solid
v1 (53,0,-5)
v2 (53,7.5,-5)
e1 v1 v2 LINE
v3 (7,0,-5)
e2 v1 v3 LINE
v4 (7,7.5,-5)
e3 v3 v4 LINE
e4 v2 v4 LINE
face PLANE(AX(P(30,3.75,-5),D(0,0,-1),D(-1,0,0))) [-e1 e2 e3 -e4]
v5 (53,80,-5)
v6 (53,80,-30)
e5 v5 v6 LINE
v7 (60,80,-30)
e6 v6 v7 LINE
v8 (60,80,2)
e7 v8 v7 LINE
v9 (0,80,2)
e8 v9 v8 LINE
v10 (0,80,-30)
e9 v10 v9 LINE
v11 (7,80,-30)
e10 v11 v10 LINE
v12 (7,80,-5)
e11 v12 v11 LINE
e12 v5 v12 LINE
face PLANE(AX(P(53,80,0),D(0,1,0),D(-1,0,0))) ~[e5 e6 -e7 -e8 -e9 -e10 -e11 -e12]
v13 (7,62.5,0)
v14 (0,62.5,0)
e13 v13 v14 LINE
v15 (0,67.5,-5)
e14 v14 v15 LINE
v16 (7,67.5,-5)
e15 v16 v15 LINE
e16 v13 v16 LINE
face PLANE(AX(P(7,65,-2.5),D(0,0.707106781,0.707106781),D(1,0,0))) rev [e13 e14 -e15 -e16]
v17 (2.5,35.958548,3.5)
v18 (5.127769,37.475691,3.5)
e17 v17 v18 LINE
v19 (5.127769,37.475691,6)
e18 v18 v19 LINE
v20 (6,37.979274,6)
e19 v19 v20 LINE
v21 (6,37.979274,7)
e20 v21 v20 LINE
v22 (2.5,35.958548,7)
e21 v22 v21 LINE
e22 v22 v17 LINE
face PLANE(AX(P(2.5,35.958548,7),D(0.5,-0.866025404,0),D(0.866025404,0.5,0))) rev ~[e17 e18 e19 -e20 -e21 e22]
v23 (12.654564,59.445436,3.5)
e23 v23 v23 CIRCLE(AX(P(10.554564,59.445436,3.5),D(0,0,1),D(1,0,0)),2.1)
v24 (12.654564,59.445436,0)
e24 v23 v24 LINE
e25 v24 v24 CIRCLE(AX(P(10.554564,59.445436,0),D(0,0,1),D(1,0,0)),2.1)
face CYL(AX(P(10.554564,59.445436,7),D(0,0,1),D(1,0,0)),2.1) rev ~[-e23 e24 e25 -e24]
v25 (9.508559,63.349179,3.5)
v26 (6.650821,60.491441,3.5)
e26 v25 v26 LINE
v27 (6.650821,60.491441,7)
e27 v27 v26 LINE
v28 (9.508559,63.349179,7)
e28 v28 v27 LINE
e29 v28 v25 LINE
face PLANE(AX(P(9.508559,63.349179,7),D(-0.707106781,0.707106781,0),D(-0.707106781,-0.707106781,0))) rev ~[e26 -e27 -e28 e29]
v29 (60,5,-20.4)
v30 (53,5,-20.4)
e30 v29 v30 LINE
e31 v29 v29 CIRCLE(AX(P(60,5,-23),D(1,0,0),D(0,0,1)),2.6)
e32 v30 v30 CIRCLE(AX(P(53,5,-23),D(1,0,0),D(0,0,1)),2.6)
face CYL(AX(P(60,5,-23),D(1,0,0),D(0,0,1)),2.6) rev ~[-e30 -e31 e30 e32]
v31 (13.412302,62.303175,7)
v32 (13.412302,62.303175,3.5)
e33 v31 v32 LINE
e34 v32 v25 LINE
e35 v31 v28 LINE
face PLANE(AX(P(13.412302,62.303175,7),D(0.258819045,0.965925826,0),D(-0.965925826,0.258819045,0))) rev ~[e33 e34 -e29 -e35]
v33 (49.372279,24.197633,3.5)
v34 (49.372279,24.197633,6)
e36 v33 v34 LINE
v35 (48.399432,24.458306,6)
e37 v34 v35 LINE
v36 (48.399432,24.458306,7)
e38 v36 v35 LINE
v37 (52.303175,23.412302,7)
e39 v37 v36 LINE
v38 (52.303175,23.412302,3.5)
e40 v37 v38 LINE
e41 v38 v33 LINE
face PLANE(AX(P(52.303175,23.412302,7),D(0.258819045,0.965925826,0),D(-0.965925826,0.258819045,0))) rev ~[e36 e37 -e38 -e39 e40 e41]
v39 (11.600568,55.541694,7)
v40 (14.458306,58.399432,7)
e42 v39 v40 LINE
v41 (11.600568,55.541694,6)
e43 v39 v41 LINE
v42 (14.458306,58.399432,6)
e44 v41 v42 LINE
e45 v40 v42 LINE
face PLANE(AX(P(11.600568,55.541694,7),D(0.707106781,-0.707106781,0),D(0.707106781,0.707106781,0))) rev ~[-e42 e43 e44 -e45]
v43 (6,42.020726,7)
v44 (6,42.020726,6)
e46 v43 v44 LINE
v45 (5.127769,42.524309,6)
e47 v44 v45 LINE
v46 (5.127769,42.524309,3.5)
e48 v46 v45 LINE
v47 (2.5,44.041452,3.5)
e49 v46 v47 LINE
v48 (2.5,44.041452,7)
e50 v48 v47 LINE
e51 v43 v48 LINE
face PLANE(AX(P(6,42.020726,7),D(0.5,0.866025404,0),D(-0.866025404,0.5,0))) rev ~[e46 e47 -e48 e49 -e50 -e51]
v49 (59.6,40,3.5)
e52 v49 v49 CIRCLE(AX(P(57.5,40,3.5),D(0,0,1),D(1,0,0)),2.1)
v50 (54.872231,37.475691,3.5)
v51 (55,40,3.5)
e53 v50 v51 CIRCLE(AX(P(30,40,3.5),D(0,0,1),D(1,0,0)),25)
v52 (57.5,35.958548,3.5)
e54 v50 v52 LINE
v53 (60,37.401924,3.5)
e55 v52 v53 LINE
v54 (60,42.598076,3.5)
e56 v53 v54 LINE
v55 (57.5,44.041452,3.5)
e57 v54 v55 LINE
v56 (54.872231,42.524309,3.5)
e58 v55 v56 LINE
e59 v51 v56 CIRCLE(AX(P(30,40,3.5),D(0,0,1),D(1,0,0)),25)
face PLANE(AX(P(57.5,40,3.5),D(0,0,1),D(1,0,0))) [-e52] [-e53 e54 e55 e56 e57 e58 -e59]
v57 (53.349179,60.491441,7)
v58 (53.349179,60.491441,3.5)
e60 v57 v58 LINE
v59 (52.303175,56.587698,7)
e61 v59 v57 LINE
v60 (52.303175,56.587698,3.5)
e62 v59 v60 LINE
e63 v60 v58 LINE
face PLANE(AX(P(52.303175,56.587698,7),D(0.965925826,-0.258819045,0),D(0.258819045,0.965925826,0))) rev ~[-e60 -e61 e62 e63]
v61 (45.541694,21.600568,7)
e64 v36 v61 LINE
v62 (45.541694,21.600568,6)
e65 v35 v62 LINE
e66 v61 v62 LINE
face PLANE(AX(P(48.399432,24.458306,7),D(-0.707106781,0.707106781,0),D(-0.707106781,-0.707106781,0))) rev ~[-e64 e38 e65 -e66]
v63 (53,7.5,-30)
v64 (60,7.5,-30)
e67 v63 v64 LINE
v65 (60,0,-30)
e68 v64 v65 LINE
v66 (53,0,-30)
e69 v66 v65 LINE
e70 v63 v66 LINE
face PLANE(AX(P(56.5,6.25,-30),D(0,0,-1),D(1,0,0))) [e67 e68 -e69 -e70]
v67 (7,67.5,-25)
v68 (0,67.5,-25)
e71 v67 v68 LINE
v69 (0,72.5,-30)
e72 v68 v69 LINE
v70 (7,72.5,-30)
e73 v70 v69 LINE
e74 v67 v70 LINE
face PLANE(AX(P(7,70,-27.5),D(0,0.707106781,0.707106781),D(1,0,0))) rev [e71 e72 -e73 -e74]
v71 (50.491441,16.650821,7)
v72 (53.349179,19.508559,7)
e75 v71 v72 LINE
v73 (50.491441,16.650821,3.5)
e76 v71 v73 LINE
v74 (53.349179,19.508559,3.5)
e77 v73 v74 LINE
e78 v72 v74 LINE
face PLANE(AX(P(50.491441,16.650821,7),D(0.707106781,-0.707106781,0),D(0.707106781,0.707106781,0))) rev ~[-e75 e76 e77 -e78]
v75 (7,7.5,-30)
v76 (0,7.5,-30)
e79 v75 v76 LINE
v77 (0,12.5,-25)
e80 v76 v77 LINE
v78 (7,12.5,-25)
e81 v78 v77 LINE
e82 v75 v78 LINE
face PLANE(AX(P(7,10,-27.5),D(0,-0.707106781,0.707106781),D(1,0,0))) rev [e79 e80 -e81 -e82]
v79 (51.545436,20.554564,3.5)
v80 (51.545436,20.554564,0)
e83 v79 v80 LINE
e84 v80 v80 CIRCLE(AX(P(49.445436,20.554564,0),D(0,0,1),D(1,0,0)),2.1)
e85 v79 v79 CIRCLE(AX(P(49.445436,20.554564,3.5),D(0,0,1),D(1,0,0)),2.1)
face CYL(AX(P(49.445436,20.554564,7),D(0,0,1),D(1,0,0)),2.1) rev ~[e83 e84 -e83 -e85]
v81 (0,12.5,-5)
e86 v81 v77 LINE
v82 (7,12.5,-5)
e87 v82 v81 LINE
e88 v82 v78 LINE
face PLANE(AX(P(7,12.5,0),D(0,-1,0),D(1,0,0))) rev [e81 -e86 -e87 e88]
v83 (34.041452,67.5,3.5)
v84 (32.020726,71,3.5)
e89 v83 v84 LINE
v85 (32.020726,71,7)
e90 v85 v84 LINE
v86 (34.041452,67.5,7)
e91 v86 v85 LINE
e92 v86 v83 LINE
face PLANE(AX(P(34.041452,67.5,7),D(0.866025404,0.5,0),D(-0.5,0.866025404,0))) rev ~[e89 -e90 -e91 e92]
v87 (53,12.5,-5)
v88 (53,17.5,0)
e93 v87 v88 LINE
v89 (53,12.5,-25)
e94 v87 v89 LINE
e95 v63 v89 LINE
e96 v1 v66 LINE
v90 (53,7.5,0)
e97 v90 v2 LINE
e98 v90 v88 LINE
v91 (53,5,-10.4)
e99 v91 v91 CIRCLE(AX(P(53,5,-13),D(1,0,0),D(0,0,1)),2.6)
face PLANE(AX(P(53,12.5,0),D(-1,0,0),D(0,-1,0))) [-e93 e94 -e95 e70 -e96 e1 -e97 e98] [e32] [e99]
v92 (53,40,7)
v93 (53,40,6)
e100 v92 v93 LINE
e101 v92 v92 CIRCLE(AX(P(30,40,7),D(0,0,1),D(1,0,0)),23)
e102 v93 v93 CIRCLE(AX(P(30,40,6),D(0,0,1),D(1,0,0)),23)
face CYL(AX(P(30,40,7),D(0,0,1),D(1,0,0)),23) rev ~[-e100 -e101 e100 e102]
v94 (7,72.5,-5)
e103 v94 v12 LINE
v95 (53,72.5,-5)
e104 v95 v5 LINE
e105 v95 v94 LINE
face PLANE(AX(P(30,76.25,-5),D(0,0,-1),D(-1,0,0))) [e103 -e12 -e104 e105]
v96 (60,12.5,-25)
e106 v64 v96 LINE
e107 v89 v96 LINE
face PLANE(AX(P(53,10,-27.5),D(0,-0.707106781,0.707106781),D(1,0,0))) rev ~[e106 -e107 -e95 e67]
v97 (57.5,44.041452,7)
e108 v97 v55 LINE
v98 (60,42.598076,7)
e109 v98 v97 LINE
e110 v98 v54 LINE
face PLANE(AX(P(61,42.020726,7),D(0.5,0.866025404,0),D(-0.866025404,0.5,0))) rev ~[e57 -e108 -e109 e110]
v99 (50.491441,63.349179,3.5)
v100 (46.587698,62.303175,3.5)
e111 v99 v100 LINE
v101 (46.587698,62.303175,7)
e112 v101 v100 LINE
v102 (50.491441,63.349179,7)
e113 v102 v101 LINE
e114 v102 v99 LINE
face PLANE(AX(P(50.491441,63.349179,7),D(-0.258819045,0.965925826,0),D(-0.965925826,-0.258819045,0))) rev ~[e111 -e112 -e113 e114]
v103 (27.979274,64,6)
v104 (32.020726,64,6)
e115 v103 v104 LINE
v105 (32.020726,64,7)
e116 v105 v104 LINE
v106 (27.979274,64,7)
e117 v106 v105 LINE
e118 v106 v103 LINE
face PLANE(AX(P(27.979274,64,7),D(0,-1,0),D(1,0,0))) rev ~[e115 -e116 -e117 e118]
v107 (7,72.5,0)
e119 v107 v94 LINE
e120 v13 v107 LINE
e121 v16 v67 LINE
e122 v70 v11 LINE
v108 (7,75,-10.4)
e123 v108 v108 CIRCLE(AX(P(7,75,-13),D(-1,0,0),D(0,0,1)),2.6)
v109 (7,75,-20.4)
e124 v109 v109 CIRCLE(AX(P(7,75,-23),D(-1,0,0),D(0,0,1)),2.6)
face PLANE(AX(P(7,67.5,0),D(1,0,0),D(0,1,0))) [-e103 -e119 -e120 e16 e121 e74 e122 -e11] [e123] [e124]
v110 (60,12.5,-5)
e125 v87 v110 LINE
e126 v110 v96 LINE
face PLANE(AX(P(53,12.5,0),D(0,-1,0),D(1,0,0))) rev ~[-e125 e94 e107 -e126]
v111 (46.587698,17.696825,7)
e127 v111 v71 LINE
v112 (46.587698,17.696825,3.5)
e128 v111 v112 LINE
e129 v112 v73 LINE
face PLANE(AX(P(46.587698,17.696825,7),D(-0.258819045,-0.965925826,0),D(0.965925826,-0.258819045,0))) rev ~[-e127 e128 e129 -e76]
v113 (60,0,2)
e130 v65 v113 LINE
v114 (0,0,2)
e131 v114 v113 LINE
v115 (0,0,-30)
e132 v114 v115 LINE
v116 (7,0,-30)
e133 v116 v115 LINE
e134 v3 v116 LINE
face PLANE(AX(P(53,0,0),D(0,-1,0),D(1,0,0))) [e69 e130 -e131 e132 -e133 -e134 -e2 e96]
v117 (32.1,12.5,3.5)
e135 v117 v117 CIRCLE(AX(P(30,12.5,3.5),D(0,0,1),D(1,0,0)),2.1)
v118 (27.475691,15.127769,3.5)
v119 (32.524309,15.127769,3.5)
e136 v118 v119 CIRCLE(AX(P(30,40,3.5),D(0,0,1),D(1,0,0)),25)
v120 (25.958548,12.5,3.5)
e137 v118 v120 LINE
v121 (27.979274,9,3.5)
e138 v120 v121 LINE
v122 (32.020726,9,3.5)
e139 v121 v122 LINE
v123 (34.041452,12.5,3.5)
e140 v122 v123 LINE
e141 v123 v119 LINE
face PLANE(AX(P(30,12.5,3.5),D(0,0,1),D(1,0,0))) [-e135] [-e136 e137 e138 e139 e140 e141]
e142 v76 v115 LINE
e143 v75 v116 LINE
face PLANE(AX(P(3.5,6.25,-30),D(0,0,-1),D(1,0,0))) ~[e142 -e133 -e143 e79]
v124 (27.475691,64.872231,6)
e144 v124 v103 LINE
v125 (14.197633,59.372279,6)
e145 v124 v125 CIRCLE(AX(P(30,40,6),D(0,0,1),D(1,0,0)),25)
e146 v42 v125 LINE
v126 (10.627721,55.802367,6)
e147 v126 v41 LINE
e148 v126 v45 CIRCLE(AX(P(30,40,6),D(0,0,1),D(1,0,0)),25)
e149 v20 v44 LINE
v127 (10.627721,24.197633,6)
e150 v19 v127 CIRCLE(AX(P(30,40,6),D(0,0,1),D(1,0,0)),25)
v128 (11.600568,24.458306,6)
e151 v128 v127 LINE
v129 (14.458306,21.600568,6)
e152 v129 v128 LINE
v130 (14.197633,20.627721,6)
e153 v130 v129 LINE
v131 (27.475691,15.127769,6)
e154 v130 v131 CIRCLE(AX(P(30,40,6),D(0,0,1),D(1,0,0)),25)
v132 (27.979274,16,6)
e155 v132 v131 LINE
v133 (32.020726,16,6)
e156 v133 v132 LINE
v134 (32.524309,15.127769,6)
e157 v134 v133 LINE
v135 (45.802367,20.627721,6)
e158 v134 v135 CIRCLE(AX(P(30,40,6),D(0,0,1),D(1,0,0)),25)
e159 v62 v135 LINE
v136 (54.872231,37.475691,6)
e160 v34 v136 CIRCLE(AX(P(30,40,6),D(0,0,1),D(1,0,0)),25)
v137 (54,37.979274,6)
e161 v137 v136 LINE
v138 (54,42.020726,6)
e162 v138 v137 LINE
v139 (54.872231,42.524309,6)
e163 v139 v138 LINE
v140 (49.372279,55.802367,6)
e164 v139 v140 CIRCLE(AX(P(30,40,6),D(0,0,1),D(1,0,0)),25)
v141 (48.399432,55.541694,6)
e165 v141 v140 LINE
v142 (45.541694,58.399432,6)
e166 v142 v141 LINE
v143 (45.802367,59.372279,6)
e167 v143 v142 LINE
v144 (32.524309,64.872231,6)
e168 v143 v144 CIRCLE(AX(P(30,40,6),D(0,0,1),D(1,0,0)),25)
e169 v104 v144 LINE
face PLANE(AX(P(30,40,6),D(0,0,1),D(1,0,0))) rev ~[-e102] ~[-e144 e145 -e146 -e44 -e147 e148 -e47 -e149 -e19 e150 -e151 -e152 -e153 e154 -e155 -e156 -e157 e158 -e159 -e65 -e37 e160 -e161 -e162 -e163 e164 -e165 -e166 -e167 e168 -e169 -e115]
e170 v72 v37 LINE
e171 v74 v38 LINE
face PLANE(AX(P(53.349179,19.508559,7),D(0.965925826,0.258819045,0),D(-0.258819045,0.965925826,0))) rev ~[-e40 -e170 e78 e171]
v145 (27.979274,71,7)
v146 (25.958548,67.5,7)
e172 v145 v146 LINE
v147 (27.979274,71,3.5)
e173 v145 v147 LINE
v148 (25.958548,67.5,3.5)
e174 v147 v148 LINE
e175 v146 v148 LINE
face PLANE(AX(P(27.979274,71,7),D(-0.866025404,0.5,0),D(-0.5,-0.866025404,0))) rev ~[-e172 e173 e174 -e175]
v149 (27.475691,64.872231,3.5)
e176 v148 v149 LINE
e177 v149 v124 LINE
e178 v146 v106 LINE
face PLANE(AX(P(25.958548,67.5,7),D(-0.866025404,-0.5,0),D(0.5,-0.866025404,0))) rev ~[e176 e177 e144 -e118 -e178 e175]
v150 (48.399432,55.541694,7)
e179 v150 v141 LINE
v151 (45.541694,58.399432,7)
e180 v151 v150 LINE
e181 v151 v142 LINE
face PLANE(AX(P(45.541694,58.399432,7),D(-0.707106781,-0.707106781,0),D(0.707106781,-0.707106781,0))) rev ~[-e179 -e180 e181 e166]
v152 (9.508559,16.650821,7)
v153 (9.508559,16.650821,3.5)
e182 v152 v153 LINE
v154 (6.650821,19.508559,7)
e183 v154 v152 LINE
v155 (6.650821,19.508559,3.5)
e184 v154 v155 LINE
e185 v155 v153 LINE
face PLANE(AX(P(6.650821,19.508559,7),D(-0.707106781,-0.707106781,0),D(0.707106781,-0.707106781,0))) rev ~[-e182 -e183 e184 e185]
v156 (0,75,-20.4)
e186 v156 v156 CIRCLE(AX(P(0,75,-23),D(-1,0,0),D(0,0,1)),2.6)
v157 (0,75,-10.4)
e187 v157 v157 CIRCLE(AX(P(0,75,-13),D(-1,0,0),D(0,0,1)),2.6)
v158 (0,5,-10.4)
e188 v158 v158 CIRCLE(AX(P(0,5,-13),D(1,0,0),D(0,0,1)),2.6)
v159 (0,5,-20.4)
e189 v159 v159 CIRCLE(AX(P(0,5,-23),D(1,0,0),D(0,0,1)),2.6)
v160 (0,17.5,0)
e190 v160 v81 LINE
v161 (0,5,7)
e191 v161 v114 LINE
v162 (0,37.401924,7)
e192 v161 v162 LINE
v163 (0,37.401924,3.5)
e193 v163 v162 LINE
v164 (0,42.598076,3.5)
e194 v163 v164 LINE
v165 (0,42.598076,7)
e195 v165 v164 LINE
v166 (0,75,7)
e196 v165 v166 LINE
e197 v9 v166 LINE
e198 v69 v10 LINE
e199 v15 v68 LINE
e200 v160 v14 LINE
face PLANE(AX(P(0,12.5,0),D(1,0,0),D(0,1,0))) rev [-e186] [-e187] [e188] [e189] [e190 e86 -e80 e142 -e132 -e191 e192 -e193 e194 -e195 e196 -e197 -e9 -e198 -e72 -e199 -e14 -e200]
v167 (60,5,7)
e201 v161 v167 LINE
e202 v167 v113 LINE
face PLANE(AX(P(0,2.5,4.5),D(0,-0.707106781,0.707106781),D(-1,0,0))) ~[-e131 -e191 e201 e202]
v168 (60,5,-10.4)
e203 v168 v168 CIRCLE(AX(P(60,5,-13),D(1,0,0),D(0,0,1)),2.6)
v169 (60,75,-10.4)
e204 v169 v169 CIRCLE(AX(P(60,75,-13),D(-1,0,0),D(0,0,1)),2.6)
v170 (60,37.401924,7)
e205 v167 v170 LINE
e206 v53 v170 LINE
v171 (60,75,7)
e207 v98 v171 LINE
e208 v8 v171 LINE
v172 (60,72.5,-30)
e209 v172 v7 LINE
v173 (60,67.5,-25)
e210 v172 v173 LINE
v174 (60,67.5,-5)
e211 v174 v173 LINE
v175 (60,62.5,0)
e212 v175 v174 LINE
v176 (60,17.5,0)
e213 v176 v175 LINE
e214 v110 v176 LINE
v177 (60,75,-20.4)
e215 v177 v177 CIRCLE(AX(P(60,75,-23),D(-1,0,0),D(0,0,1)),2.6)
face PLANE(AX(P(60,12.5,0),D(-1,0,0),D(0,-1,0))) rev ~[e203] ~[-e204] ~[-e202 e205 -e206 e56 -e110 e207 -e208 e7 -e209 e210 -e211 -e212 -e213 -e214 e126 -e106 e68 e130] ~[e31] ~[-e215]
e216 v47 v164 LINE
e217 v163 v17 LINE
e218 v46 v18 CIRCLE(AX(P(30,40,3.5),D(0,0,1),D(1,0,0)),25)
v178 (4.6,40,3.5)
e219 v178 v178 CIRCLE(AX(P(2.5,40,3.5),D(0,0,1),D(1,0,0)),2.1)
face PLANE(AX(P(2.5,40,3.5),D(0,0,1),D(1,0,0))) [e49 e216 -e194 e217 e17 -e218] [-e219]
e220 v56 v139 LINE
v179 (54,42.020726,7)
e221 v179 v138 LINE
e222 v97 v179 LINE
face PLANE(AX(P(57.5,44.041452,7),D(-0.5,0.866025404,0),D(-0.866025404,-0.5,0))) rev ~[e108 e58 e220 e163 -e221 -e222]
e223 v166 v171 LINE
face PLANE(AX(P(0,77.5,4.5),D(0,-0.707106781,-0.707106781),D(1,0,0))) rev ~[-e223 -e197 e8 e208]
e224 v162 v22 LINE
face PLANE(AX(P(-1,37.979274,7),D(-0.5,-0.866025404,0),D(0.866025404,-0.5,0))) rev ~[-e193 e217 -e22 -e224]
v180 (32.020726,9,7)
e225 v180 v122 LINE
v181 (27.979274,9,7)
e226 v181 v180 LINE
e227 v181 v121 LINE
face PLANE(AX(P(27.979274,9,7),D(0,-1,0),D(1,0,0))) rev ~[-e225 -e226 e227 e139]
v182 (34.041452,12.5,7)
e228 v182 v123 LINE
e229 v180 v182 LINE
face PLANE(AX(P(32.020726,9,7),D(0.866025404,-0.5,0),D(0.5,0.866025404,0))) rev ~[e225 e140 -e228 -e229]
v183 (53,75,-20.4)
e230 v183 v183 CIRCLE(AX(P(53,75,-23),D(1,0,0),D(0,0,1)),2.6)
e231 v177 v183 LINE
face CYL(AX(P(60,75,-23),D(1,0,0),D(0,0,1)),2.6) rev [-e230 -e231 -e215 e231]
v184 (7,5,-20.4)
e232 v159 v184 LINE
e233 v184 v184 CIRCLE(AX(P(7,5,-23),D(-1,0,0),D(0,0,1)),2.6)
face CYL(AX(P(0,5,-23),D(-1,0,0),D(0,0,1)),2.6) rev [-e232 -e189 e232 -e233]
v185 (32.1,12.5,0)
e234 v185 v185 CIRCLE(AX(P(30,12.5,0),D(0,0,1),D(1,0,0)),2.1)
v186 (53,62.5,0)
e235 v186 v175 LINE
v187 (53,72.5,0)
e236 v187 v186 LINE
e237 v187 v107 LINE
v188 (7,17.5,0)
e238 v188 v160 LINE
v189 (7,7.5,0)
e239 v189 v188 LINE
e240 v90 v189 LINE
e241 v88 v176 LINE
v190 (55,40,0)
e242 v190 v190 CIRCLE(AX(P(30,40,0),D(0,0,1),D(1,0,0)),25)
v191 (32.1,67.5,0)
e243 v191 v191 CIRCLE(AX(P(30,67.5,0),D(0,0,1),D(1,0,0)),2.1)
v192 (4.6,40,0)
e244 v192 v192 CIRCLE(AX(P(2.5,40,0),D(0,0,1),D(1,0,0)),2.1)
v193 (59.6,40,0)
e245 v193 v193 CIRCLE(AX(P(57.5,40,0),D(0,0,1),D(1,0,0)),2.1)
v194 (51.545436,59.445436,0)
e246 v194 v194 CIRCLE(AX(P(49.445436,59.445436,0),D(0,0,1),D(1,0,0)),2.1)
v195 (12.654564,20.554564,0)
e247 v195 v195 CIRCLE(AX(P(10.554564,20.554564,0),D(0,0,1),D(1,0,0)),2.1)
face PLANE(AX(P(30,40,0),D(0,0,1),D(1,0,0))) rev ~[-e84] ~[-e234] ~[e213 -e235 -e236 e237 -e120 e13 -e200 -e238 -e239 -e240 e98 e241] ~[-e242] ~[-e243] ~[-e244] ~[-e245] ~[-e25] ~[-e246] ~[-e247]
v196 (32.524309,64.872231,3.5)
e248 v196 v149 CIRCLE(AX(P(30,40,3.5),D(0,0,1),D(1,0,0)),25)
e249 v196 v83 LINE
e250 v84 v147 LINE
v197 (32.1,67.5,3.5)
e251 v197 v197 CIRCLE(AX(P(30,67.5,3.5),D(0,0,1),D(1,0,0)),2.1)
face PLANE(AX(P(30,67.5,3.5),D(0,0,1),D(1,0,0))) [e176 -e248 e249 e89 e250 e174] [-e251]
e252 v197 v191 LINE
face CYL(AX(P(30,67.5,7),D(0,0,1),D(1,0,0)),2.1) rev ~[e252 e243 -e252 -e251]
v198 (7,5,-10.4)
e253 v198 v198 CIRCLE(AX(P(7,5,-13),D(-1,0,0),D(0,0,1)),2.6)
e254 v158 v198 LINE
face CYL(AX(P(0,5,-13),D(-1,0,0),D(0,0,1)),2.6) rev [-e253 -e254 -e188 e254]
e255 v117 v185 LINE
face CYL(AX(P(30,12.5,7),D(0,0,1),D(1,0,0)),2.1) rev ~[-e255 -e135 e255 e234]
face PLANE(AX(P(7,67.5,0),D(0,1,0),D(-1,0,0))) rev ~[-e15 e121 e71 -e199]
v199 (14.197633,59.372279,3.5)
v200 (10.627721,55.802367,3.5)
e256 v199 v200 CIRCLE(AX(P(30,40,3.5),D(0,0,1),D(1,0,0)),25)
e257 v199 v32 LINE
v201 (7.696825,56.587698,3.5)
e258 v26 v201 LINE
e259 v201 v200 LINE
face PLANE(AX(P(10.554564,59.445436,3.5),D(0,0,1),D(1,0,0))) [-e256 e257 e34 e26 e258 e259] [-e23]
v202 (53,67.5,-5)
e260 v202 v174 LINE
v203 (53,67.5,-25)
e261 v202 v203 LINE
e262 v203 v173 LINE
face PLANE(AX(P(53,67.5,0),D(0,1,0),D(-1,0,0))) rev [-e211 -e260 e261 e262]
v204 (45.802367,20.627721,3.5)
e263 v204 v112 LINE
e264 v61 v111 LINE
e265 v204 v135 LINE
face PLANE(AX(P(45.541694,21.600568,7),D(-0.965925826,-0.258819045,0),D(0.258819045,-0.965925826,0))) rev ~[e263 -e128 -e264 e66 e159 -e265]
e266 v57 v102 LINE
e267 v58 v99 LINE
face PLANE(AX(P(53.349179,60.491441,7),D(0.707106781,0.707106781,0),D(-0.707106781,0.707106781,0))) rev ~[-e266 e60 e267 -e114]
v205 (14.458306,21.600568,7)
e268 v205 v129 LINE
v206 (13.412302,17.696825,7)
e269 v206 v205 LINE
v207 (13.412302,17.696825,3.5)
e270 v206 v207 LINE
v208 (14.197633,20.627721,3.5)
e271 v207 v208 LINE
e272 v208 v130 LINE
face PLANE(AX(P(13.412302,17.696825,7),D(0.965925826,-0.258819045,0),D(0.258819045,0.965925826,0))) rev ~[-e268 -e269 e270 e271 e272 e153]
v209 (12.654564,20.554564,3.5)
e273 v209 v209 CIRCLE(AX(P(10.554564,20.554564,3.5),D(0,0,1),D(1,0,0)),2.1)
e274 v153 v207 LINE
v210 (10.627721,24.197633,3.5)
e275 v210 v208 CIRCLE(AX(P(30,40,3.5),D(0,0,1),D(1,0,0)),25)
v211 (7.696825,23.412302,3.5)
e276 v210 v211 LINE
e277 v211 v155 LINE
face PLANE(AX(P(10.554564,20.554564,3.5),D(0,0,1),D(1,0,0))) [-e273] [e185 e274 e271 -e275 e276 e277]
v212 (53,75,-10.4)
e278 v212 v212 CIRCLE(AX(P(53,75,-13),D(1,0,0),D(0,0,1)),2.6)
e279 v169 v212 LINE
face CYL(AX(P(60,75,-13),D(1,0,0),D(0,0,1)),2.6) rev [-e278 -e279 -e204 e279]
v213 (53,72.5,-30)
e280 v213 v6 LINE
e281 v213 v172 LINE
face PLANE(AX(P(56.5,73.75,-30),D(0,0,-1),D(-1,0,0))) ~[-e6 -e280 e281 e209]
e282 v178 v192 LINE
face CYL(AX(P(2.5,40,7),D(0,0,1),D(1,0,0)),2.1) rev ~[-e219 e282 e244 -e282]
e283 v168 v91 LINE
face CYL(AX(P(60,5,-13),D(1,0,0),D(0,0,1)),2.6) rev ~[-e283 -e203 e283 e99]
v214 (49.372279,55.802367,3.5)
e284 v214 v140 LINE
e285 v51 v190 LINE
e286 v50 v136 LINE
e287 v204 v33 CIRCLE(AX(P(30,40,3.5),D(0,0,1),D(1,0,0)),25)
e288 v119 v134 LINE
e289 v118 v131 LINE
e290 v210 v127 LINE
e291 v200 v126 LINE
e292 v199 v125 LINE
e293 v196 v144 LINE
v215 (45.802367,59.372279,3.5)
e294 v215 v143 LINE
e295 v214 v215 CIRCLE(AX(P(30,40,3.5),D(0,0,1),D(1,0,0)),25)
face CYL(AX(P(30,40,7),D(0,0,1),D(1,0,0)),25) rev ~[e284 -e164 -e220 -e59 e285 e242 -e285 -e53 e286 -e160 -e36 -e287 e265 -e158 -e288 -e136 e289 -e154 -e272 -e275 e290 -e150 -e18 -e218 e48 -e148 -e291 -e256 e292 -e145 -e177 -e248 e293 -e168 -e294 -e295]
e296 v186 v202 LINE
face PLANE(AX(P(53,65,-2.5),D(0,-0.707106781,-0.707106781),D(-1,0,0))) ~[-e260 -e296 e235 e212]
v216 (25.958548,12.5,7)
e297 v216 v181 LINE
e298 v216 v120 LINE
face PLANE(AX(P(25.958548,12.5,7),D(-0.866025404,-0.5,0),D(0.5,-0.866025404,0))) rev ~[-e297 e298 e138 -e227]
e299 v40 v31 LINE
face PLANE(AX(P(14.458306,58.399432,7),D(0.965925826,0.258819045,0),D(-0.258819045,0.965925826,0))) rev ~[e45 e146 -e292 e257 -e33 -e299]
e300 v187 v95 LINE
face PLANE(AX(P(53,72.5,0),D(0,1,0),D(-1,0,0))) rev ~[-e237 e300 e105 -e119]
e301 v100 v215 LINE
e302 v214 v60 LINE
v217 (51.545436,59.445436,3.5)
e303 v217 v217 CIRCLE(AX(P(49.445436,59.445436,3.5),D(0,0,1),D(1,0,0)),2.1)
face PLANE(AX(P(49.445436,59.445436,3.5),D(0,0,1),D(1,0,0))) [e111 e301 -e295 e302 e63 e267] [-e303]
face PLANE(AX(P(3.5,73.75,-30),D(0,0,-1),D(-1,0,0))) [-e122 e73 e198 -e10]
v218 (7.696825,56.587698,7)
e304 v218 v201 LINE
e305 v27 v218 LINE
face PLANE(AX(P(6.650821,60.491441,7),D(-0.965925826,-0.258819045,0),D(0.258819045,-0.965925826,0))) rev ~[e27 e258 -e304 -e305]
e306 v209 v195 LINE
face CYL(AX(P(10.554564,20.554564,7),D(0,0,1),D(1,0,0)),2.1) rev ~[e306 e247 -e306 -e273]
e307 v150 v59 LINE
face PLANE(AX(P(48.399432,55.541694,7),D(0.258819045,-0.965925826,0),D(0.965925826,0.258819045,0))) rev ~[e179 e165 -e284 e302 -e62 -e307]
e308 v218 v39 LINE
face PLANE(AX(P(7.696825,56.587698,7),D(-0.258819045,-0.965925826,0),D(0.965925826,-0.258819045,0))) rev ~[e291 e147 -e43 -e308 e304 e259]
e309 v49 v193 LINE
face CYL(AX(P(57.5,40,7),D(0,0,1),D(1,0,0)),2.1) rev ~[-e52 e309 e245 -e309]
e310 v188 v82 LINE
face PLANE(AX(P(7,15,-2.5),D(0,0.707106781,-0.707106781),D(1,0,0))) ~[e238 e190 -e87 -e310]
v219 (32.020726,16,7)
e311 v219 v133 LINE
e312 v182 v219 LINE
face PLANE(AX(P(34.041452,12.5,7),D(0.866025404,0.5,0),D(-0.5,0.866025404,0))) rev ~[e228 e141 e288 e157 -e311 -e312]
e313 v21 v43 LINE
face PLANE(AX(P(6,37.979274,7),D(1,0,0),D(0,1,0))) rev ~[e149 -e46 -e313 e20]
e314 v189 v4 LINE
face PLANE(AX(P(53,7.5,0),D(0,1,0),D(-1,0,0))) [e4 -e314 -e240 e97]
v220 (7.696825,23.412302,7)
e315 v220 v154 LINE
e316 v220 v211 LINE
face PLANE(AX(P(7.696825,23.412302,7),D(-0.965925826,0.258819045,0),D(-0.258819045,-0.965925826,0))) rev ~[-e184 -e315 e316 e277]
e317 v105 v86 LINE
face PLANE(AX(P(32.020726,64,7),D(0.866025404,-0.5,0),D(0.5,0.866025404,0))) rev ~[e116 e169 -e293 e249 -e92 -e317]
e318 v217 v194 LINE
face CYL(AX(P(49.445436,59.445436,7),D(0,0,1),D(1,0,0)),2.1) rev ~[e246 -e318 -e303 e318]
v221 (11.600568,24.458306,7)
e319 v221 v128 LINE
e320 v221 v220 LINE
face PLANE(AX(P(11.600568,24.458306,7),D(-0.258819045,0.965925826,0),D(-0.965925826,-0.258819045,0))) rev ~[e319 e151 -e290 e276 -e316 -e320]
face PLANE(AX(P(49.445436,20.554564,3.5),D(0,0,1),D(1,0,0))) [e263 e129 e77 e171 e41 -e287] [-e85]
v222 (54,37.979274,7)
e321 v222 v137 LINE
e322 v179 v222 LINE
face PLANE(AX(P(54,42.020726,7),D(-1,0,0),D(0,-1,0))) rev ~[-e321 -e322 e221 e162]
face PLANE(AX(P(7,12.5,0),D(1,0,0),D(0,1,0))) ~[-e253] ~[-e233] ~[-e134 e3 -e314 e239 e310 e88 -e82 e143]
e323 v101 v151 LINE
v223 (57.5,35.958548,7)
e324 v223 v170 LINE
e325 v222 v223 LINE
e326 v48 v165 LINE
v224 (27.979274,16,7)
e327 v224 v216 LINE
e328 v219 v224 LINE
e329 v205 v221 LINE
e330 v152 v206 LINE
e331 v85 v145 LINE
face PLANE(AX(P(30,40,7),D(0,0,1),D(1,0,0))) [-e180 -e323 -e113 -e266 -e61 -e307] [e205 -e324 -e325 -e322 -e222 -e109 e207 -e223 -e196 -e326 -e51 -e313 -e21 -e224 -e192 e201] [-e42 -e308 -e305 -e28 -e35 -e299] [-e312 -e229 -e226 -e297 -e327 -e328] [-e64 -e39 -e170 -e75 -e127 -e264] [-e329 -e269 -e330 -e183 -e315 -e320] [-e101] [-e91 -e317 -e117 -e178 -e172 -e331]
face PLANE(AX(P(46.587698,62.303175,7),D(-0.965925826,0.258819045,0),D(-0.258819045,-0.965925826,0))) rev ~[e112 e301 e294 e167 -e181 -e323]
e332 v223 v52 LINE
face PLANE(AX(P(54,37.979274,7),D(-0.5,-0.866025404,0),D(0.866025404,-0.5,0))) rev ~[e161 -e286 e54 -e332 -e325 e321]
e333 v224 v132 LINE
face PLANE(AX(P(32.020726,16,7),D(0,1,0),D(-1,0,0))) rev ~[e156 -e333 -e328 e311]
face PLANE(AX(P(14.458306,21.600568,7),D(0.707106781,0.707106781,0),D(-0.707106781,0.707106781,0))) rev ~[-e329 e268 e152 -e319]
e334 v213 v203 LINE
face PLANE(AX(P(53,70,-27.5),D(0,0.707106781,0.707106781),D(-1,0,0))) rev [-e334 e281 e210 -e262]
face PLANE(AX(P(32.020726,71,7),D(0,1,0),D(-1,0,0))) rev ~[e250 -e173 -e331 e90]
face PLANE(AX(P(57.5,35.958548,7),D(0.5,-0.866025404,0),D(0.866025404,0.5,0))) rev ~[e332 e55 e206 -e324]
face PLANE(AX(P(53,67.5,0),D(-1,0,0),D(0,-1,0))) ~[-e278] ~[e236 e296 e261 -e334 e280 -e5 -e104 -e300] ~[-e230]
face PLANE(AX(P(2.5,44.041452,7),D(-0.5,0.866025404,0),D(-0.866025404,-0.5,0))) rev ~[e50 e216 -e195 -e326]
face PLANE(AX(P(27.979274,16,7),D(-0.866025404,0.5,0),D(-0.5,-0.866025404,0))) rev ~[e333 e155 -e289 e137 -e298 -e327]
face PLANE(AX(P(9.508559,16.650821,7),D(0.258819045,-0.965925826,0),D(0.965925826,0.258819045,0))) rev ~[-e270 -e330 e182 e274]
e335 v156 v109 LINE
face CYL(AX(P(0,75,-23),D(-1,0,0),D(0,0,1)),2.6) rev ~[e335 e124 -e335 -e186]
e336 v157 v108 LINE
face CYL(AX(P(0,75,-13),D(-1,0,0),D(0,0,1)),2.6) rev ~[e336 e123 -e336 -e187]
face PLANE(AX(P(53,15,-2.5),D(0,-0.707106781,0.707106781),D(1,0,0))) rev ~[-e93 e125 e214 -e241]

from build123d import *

# Parameters (mm, degrees)
SKETCH1_W               = 60
SKETCH1_H               = 80
BOSS_EXTRUDE1_DEPTH     = 7
SKETCH2_W               = 7
SKETCH2_H               = 12.5
BOSS_EXTRUDE2_DEPTH     = 30
SKETCH3_R               = 2.6
CUT_EXTRUDE1_DEPTH      = 50
SKETCH4_R               = 25
CUT_EXTRUDE2_DEPTH      = 107.625512894
SKETCH6_R               = 2.1
CUT_EXTRUDE3_DEPTH      = 107.625512894
MIRROR2_COPY_1_SKETCH_W = 7
MIRROR2_COPY_1_SKETCH_H = 12.5
MIRROR2_COPY_1_DEPTH    = 30
MIRROR2_COPY_2_SKETCH_R = 2.6
MIRROR2_COPY_2_DEPTH    = 50
CHAMFER1_SIZE           = 5
CHAMFER2_SIZE           = 5
SKETCH9_W               = 46
SKETCH9_H               = 7.5
BOSS_EXTRUDE4_DEPTH     = 5
CHAMFER3_SIZE           = 5
SKETCH20_R              = 25
SKETCH20_R_2            = 23
BOSS_EXTRUDE5_DEPTH     = 1
CUT_EXTRUDE5_DEPTH      = 3.5


with BuildPart() as part:
    # Sketch1 → Boss-Extrude1 (new body)
    with BuildSketch(Plane.XY):
        with Locations((30, 40)):
            Rectangle(SKETCH1_W, SKETCH1_H)
    extrude(amount=BOSS_EXTRUDE1_DEPTH)

    # Sketch2 → Boss-Extrude2 (add)
    with BuildSketch(Plane(origin=(0, 0, 0), x_dir=(-1, 0, 0), z_dir=(0, 0, -1))):
        with Locations((-3.5, 73.75)):
            Rectangle(SKETCH2_W, SKETCH2_H)
    boss_extrude2 = extrude(amount=BOSS_EXTRUDE2_DEPTH)

    # Sketch3 → Cut-Extrude1 (cut)
    with BuildSketch(Plane.ZY):
        with Locations((-13, 75)):
            Circle(SKETCH3_R)
        with Locations((-23, 75)):
            Circle(SKETCH3_R)
    cut_extrude1 = extrude(amount=-CUT_EXTRUDE1_DEPTH, mode=Mode.SUBTRACT)

    # Sketch4 → Cut-Extrude2 (cut, through all)
    with BuildSketch(Plane.XY.offset(7)):
        with Locations((30, 40)):
            Circle(SKETCH4_R)
    extrude(amount=-CUT_EXTRUDE2_DEPTH, mode=Mode.SUBTRACT)

    # Sketch6 → Cut-Extrude3 (cut, through all)
    with BuildSketch(Plane.XY.offset(7)):
        with Locations((30, 67.5)):
            Circle(SKETCH6_R)
        with Locations((49.445436483, 59.445436483)):
            Circle(SKETCH6_R)
        with Locations((57.5, 40)):
            Circle(SKETCH6_R)
        with Locations((49.445436483, 20.554563517)):
            Circle(SKETCH6_R)
        with Locations((30, 12.5)):
            Circle(SKETCH6_R)
        with Locations((10.554563517, 20.554563517)):
            Circle(SKETCH6_R)
        with Locations((2.5, 40)):
            Circle(SKETCH6_R)
        with Locations((10.554563517, 59.445436483)):
            Circle(SKETCH6_R)
    extrude(amount=-CUT_EXTRUDE3_DEPTH, mode=Mode.SUBTRACT)

    # Mirror1: Boss-Extrude2, Cut-Extrude1 across plane
    add(boss_extrude2.mirror(Plane(origin=(0, 40, 0), x_dir=(0, 0, 1), z_dir=(0, -1, 0))))
    add(cut_extrude1.mirror(Plane(origin=(0, 40, 0), x_dir=(0, 0, 1), z_dir=(0, -1, 0))), mode=Mode.SUBTRACT)

    # Mirror2: Boss-Extrude2, Cut-Extrude1 across plane
    add(boss_extrude2.mirror(Plane(origin=(30, 0, 0), x_dir=(0, 0, 1), z_dir=(1, 0, 0))))
    add(cut_extrude1.mirror(Plane(origin=(30, 0, 0), x_dir=(0, 0, 1), z_dir=(1, 0, 0))), mode=Mode.SUBTRACT)

    # Mirror2 copy 1 sketch → Mirror2 copy 1 (add)
    with BuildSketch(Plane(origin=(60, 80, 0), x_dir=(1, 0, 0), z_dir=(0, 0, -1))):
        with Locations((-3.5, 73.75)):
            Rectangle(MIRROR2_COPY_1_SKETCH_W, MIRROR2_COPY_1_SKETCH_H)
    extrude(amount=MIRROR2_COPY_1_DEPTH)

    # Mirror2 copy 2 sketch → Mirror2 copy 2 (cut)
    with BuildSketch(Plane(origin=(60, 80, 0), x_dir=(0, 0, 1), z_dir=(1, 0, 0))):
        with Locations((-13, 75)):
            Circle(MIRROR2_COPY_2_SKETCH_R)
        with Locations((-23, 75)):
            Circle(MIRROR2_COPY_2_SKETCH_R)
    extrude(amount=-MIRROR2_COPY_2_DEPTH, mode=Mode.SUBTRACT)

    # Chamfer1
    chamfer1_edges = [part.edges().sort_by_distance(p)[0] for p in [
        (56.5, 67.5, 0),
        (56.5, 12.5, 0),
        (3.5, 67.5, 0),
        (3.5, 12.5, 0),
    ]]
    chamfer(chamfer1_edges, length=CHAMFER1_SIZE)

    # Chamfer2
    chamfer2_edges = [part.edges().sort_by_distance(p)[0] for p in [
        (56.5, 67.5, -30),
        (56.5, 12.5, -30),
        (3.5, 67.5, -30),
        (3.5, 12.5, -30),
    ]]
    chamfer(chamfer2_edges, length=CHAMFER2_SIZE)

    # Sketch9 → Boss-Extrude4 (add)
    with BuildSketch(Plane(origin=(0, 0, 0), x_dir=(-1, 0, 0), z_dir=(0, 0, -1))):
        with Locations((-30, 76.25)):
            Rectangle(SKETCH9_W, SKETCH9_H)
        with Locations((-30, 3.75)):
            Rectangle(SKETCH9_W, SKETCH9_H)
    extrude(amount=BOSS_EXTRUDE4_DEPTH)

    # Chamfer3
    chamfer3_edges = [part.edges().sort_by_distance(p)[0] for p in [
        (30, 80, 7),
        (30, 0, 7),
    ]]
    chamfer(chamfer3_edges, length=CHAMFER3_SIZE)

    # Sketch20 → Boss-Extrude5 (add)
    with BuildSketch(Plane.XY.offset(7)):
        with Locations((30, 40)):
            Circle(SKETCH20_R)
        with Locations((30, 40)):
            Circle(SKETCH20_R_2, mode=Mode.SUBTRACT)
    extrude(amount=-BOSS_EXTRUDE5_DEPTH)

    # Sketch21 → Cut-Extrude5 (cut)
    with BuildSketch(Plane.XY.offset(7)):
        Polygon((52.303174516, 56.587698449), (53.349179233, 60.4914412), (50.4914412, 63.349179233), (46.587698449, 62.303174516), (45.541693732, 58.399431765), (48.399431765, 55.541693732), align=None)
        Polygon((34.041451884, 67.5), (32.020725942, 71), (27.979274058, 71), (25.958548116, 67.5), (27.979274058, 64), (32.020725942, 64), align=None)
        Polygon((57.5, 35.958548116), (61, 37.979274058), (61, 42.020725942), (57.5, 44.041451884), (54, 42.020725942), (54, 37.979274058), align=None)
        Polygon((46.587698449, 17.696825484), (50.4914412, 16.650820767), (53.349179233, 19.5085588), (52.303174516, 23.412301551), (48.399431765, 24.458306268), (45.541693732, 21.600568235), align=None)
        Polygon((25.958548116, 12.5), (27.979274058, 9), (32.020725942, 9), (34.041451884, 12.5), (32.020725942, 16), (27.979274058, 16), align=None)
        Polygon((7.696825484, 23.412301551), (6.650820767, 19.5085588), (9.5085588, 16.650820767), (13.412301551, 17.696825484), (14.458306268, 21.600568235), (11.600568235, 24.458306268), align=None)
        Polygon((2.5, 44.041451884), (-1, 42.020725942), (-1, 37.979274058), (2.5, 35.958548116), (6, 37.979274058), (6, 42.020725942), align=None)
        Polygon((13.412301551, 62.303174516), (9.5085588, 63.349179233), (6.650820767, 60.4914412), (7.696825484, 56.587698449), (11.600568235, 55.541693732), (14.458306268, 58.399431765), align=None)
    extrude(amount=-CUT_EXTRUDE5_DEPTH, mode=Mode.SUBTRACT)


solid = part.part
